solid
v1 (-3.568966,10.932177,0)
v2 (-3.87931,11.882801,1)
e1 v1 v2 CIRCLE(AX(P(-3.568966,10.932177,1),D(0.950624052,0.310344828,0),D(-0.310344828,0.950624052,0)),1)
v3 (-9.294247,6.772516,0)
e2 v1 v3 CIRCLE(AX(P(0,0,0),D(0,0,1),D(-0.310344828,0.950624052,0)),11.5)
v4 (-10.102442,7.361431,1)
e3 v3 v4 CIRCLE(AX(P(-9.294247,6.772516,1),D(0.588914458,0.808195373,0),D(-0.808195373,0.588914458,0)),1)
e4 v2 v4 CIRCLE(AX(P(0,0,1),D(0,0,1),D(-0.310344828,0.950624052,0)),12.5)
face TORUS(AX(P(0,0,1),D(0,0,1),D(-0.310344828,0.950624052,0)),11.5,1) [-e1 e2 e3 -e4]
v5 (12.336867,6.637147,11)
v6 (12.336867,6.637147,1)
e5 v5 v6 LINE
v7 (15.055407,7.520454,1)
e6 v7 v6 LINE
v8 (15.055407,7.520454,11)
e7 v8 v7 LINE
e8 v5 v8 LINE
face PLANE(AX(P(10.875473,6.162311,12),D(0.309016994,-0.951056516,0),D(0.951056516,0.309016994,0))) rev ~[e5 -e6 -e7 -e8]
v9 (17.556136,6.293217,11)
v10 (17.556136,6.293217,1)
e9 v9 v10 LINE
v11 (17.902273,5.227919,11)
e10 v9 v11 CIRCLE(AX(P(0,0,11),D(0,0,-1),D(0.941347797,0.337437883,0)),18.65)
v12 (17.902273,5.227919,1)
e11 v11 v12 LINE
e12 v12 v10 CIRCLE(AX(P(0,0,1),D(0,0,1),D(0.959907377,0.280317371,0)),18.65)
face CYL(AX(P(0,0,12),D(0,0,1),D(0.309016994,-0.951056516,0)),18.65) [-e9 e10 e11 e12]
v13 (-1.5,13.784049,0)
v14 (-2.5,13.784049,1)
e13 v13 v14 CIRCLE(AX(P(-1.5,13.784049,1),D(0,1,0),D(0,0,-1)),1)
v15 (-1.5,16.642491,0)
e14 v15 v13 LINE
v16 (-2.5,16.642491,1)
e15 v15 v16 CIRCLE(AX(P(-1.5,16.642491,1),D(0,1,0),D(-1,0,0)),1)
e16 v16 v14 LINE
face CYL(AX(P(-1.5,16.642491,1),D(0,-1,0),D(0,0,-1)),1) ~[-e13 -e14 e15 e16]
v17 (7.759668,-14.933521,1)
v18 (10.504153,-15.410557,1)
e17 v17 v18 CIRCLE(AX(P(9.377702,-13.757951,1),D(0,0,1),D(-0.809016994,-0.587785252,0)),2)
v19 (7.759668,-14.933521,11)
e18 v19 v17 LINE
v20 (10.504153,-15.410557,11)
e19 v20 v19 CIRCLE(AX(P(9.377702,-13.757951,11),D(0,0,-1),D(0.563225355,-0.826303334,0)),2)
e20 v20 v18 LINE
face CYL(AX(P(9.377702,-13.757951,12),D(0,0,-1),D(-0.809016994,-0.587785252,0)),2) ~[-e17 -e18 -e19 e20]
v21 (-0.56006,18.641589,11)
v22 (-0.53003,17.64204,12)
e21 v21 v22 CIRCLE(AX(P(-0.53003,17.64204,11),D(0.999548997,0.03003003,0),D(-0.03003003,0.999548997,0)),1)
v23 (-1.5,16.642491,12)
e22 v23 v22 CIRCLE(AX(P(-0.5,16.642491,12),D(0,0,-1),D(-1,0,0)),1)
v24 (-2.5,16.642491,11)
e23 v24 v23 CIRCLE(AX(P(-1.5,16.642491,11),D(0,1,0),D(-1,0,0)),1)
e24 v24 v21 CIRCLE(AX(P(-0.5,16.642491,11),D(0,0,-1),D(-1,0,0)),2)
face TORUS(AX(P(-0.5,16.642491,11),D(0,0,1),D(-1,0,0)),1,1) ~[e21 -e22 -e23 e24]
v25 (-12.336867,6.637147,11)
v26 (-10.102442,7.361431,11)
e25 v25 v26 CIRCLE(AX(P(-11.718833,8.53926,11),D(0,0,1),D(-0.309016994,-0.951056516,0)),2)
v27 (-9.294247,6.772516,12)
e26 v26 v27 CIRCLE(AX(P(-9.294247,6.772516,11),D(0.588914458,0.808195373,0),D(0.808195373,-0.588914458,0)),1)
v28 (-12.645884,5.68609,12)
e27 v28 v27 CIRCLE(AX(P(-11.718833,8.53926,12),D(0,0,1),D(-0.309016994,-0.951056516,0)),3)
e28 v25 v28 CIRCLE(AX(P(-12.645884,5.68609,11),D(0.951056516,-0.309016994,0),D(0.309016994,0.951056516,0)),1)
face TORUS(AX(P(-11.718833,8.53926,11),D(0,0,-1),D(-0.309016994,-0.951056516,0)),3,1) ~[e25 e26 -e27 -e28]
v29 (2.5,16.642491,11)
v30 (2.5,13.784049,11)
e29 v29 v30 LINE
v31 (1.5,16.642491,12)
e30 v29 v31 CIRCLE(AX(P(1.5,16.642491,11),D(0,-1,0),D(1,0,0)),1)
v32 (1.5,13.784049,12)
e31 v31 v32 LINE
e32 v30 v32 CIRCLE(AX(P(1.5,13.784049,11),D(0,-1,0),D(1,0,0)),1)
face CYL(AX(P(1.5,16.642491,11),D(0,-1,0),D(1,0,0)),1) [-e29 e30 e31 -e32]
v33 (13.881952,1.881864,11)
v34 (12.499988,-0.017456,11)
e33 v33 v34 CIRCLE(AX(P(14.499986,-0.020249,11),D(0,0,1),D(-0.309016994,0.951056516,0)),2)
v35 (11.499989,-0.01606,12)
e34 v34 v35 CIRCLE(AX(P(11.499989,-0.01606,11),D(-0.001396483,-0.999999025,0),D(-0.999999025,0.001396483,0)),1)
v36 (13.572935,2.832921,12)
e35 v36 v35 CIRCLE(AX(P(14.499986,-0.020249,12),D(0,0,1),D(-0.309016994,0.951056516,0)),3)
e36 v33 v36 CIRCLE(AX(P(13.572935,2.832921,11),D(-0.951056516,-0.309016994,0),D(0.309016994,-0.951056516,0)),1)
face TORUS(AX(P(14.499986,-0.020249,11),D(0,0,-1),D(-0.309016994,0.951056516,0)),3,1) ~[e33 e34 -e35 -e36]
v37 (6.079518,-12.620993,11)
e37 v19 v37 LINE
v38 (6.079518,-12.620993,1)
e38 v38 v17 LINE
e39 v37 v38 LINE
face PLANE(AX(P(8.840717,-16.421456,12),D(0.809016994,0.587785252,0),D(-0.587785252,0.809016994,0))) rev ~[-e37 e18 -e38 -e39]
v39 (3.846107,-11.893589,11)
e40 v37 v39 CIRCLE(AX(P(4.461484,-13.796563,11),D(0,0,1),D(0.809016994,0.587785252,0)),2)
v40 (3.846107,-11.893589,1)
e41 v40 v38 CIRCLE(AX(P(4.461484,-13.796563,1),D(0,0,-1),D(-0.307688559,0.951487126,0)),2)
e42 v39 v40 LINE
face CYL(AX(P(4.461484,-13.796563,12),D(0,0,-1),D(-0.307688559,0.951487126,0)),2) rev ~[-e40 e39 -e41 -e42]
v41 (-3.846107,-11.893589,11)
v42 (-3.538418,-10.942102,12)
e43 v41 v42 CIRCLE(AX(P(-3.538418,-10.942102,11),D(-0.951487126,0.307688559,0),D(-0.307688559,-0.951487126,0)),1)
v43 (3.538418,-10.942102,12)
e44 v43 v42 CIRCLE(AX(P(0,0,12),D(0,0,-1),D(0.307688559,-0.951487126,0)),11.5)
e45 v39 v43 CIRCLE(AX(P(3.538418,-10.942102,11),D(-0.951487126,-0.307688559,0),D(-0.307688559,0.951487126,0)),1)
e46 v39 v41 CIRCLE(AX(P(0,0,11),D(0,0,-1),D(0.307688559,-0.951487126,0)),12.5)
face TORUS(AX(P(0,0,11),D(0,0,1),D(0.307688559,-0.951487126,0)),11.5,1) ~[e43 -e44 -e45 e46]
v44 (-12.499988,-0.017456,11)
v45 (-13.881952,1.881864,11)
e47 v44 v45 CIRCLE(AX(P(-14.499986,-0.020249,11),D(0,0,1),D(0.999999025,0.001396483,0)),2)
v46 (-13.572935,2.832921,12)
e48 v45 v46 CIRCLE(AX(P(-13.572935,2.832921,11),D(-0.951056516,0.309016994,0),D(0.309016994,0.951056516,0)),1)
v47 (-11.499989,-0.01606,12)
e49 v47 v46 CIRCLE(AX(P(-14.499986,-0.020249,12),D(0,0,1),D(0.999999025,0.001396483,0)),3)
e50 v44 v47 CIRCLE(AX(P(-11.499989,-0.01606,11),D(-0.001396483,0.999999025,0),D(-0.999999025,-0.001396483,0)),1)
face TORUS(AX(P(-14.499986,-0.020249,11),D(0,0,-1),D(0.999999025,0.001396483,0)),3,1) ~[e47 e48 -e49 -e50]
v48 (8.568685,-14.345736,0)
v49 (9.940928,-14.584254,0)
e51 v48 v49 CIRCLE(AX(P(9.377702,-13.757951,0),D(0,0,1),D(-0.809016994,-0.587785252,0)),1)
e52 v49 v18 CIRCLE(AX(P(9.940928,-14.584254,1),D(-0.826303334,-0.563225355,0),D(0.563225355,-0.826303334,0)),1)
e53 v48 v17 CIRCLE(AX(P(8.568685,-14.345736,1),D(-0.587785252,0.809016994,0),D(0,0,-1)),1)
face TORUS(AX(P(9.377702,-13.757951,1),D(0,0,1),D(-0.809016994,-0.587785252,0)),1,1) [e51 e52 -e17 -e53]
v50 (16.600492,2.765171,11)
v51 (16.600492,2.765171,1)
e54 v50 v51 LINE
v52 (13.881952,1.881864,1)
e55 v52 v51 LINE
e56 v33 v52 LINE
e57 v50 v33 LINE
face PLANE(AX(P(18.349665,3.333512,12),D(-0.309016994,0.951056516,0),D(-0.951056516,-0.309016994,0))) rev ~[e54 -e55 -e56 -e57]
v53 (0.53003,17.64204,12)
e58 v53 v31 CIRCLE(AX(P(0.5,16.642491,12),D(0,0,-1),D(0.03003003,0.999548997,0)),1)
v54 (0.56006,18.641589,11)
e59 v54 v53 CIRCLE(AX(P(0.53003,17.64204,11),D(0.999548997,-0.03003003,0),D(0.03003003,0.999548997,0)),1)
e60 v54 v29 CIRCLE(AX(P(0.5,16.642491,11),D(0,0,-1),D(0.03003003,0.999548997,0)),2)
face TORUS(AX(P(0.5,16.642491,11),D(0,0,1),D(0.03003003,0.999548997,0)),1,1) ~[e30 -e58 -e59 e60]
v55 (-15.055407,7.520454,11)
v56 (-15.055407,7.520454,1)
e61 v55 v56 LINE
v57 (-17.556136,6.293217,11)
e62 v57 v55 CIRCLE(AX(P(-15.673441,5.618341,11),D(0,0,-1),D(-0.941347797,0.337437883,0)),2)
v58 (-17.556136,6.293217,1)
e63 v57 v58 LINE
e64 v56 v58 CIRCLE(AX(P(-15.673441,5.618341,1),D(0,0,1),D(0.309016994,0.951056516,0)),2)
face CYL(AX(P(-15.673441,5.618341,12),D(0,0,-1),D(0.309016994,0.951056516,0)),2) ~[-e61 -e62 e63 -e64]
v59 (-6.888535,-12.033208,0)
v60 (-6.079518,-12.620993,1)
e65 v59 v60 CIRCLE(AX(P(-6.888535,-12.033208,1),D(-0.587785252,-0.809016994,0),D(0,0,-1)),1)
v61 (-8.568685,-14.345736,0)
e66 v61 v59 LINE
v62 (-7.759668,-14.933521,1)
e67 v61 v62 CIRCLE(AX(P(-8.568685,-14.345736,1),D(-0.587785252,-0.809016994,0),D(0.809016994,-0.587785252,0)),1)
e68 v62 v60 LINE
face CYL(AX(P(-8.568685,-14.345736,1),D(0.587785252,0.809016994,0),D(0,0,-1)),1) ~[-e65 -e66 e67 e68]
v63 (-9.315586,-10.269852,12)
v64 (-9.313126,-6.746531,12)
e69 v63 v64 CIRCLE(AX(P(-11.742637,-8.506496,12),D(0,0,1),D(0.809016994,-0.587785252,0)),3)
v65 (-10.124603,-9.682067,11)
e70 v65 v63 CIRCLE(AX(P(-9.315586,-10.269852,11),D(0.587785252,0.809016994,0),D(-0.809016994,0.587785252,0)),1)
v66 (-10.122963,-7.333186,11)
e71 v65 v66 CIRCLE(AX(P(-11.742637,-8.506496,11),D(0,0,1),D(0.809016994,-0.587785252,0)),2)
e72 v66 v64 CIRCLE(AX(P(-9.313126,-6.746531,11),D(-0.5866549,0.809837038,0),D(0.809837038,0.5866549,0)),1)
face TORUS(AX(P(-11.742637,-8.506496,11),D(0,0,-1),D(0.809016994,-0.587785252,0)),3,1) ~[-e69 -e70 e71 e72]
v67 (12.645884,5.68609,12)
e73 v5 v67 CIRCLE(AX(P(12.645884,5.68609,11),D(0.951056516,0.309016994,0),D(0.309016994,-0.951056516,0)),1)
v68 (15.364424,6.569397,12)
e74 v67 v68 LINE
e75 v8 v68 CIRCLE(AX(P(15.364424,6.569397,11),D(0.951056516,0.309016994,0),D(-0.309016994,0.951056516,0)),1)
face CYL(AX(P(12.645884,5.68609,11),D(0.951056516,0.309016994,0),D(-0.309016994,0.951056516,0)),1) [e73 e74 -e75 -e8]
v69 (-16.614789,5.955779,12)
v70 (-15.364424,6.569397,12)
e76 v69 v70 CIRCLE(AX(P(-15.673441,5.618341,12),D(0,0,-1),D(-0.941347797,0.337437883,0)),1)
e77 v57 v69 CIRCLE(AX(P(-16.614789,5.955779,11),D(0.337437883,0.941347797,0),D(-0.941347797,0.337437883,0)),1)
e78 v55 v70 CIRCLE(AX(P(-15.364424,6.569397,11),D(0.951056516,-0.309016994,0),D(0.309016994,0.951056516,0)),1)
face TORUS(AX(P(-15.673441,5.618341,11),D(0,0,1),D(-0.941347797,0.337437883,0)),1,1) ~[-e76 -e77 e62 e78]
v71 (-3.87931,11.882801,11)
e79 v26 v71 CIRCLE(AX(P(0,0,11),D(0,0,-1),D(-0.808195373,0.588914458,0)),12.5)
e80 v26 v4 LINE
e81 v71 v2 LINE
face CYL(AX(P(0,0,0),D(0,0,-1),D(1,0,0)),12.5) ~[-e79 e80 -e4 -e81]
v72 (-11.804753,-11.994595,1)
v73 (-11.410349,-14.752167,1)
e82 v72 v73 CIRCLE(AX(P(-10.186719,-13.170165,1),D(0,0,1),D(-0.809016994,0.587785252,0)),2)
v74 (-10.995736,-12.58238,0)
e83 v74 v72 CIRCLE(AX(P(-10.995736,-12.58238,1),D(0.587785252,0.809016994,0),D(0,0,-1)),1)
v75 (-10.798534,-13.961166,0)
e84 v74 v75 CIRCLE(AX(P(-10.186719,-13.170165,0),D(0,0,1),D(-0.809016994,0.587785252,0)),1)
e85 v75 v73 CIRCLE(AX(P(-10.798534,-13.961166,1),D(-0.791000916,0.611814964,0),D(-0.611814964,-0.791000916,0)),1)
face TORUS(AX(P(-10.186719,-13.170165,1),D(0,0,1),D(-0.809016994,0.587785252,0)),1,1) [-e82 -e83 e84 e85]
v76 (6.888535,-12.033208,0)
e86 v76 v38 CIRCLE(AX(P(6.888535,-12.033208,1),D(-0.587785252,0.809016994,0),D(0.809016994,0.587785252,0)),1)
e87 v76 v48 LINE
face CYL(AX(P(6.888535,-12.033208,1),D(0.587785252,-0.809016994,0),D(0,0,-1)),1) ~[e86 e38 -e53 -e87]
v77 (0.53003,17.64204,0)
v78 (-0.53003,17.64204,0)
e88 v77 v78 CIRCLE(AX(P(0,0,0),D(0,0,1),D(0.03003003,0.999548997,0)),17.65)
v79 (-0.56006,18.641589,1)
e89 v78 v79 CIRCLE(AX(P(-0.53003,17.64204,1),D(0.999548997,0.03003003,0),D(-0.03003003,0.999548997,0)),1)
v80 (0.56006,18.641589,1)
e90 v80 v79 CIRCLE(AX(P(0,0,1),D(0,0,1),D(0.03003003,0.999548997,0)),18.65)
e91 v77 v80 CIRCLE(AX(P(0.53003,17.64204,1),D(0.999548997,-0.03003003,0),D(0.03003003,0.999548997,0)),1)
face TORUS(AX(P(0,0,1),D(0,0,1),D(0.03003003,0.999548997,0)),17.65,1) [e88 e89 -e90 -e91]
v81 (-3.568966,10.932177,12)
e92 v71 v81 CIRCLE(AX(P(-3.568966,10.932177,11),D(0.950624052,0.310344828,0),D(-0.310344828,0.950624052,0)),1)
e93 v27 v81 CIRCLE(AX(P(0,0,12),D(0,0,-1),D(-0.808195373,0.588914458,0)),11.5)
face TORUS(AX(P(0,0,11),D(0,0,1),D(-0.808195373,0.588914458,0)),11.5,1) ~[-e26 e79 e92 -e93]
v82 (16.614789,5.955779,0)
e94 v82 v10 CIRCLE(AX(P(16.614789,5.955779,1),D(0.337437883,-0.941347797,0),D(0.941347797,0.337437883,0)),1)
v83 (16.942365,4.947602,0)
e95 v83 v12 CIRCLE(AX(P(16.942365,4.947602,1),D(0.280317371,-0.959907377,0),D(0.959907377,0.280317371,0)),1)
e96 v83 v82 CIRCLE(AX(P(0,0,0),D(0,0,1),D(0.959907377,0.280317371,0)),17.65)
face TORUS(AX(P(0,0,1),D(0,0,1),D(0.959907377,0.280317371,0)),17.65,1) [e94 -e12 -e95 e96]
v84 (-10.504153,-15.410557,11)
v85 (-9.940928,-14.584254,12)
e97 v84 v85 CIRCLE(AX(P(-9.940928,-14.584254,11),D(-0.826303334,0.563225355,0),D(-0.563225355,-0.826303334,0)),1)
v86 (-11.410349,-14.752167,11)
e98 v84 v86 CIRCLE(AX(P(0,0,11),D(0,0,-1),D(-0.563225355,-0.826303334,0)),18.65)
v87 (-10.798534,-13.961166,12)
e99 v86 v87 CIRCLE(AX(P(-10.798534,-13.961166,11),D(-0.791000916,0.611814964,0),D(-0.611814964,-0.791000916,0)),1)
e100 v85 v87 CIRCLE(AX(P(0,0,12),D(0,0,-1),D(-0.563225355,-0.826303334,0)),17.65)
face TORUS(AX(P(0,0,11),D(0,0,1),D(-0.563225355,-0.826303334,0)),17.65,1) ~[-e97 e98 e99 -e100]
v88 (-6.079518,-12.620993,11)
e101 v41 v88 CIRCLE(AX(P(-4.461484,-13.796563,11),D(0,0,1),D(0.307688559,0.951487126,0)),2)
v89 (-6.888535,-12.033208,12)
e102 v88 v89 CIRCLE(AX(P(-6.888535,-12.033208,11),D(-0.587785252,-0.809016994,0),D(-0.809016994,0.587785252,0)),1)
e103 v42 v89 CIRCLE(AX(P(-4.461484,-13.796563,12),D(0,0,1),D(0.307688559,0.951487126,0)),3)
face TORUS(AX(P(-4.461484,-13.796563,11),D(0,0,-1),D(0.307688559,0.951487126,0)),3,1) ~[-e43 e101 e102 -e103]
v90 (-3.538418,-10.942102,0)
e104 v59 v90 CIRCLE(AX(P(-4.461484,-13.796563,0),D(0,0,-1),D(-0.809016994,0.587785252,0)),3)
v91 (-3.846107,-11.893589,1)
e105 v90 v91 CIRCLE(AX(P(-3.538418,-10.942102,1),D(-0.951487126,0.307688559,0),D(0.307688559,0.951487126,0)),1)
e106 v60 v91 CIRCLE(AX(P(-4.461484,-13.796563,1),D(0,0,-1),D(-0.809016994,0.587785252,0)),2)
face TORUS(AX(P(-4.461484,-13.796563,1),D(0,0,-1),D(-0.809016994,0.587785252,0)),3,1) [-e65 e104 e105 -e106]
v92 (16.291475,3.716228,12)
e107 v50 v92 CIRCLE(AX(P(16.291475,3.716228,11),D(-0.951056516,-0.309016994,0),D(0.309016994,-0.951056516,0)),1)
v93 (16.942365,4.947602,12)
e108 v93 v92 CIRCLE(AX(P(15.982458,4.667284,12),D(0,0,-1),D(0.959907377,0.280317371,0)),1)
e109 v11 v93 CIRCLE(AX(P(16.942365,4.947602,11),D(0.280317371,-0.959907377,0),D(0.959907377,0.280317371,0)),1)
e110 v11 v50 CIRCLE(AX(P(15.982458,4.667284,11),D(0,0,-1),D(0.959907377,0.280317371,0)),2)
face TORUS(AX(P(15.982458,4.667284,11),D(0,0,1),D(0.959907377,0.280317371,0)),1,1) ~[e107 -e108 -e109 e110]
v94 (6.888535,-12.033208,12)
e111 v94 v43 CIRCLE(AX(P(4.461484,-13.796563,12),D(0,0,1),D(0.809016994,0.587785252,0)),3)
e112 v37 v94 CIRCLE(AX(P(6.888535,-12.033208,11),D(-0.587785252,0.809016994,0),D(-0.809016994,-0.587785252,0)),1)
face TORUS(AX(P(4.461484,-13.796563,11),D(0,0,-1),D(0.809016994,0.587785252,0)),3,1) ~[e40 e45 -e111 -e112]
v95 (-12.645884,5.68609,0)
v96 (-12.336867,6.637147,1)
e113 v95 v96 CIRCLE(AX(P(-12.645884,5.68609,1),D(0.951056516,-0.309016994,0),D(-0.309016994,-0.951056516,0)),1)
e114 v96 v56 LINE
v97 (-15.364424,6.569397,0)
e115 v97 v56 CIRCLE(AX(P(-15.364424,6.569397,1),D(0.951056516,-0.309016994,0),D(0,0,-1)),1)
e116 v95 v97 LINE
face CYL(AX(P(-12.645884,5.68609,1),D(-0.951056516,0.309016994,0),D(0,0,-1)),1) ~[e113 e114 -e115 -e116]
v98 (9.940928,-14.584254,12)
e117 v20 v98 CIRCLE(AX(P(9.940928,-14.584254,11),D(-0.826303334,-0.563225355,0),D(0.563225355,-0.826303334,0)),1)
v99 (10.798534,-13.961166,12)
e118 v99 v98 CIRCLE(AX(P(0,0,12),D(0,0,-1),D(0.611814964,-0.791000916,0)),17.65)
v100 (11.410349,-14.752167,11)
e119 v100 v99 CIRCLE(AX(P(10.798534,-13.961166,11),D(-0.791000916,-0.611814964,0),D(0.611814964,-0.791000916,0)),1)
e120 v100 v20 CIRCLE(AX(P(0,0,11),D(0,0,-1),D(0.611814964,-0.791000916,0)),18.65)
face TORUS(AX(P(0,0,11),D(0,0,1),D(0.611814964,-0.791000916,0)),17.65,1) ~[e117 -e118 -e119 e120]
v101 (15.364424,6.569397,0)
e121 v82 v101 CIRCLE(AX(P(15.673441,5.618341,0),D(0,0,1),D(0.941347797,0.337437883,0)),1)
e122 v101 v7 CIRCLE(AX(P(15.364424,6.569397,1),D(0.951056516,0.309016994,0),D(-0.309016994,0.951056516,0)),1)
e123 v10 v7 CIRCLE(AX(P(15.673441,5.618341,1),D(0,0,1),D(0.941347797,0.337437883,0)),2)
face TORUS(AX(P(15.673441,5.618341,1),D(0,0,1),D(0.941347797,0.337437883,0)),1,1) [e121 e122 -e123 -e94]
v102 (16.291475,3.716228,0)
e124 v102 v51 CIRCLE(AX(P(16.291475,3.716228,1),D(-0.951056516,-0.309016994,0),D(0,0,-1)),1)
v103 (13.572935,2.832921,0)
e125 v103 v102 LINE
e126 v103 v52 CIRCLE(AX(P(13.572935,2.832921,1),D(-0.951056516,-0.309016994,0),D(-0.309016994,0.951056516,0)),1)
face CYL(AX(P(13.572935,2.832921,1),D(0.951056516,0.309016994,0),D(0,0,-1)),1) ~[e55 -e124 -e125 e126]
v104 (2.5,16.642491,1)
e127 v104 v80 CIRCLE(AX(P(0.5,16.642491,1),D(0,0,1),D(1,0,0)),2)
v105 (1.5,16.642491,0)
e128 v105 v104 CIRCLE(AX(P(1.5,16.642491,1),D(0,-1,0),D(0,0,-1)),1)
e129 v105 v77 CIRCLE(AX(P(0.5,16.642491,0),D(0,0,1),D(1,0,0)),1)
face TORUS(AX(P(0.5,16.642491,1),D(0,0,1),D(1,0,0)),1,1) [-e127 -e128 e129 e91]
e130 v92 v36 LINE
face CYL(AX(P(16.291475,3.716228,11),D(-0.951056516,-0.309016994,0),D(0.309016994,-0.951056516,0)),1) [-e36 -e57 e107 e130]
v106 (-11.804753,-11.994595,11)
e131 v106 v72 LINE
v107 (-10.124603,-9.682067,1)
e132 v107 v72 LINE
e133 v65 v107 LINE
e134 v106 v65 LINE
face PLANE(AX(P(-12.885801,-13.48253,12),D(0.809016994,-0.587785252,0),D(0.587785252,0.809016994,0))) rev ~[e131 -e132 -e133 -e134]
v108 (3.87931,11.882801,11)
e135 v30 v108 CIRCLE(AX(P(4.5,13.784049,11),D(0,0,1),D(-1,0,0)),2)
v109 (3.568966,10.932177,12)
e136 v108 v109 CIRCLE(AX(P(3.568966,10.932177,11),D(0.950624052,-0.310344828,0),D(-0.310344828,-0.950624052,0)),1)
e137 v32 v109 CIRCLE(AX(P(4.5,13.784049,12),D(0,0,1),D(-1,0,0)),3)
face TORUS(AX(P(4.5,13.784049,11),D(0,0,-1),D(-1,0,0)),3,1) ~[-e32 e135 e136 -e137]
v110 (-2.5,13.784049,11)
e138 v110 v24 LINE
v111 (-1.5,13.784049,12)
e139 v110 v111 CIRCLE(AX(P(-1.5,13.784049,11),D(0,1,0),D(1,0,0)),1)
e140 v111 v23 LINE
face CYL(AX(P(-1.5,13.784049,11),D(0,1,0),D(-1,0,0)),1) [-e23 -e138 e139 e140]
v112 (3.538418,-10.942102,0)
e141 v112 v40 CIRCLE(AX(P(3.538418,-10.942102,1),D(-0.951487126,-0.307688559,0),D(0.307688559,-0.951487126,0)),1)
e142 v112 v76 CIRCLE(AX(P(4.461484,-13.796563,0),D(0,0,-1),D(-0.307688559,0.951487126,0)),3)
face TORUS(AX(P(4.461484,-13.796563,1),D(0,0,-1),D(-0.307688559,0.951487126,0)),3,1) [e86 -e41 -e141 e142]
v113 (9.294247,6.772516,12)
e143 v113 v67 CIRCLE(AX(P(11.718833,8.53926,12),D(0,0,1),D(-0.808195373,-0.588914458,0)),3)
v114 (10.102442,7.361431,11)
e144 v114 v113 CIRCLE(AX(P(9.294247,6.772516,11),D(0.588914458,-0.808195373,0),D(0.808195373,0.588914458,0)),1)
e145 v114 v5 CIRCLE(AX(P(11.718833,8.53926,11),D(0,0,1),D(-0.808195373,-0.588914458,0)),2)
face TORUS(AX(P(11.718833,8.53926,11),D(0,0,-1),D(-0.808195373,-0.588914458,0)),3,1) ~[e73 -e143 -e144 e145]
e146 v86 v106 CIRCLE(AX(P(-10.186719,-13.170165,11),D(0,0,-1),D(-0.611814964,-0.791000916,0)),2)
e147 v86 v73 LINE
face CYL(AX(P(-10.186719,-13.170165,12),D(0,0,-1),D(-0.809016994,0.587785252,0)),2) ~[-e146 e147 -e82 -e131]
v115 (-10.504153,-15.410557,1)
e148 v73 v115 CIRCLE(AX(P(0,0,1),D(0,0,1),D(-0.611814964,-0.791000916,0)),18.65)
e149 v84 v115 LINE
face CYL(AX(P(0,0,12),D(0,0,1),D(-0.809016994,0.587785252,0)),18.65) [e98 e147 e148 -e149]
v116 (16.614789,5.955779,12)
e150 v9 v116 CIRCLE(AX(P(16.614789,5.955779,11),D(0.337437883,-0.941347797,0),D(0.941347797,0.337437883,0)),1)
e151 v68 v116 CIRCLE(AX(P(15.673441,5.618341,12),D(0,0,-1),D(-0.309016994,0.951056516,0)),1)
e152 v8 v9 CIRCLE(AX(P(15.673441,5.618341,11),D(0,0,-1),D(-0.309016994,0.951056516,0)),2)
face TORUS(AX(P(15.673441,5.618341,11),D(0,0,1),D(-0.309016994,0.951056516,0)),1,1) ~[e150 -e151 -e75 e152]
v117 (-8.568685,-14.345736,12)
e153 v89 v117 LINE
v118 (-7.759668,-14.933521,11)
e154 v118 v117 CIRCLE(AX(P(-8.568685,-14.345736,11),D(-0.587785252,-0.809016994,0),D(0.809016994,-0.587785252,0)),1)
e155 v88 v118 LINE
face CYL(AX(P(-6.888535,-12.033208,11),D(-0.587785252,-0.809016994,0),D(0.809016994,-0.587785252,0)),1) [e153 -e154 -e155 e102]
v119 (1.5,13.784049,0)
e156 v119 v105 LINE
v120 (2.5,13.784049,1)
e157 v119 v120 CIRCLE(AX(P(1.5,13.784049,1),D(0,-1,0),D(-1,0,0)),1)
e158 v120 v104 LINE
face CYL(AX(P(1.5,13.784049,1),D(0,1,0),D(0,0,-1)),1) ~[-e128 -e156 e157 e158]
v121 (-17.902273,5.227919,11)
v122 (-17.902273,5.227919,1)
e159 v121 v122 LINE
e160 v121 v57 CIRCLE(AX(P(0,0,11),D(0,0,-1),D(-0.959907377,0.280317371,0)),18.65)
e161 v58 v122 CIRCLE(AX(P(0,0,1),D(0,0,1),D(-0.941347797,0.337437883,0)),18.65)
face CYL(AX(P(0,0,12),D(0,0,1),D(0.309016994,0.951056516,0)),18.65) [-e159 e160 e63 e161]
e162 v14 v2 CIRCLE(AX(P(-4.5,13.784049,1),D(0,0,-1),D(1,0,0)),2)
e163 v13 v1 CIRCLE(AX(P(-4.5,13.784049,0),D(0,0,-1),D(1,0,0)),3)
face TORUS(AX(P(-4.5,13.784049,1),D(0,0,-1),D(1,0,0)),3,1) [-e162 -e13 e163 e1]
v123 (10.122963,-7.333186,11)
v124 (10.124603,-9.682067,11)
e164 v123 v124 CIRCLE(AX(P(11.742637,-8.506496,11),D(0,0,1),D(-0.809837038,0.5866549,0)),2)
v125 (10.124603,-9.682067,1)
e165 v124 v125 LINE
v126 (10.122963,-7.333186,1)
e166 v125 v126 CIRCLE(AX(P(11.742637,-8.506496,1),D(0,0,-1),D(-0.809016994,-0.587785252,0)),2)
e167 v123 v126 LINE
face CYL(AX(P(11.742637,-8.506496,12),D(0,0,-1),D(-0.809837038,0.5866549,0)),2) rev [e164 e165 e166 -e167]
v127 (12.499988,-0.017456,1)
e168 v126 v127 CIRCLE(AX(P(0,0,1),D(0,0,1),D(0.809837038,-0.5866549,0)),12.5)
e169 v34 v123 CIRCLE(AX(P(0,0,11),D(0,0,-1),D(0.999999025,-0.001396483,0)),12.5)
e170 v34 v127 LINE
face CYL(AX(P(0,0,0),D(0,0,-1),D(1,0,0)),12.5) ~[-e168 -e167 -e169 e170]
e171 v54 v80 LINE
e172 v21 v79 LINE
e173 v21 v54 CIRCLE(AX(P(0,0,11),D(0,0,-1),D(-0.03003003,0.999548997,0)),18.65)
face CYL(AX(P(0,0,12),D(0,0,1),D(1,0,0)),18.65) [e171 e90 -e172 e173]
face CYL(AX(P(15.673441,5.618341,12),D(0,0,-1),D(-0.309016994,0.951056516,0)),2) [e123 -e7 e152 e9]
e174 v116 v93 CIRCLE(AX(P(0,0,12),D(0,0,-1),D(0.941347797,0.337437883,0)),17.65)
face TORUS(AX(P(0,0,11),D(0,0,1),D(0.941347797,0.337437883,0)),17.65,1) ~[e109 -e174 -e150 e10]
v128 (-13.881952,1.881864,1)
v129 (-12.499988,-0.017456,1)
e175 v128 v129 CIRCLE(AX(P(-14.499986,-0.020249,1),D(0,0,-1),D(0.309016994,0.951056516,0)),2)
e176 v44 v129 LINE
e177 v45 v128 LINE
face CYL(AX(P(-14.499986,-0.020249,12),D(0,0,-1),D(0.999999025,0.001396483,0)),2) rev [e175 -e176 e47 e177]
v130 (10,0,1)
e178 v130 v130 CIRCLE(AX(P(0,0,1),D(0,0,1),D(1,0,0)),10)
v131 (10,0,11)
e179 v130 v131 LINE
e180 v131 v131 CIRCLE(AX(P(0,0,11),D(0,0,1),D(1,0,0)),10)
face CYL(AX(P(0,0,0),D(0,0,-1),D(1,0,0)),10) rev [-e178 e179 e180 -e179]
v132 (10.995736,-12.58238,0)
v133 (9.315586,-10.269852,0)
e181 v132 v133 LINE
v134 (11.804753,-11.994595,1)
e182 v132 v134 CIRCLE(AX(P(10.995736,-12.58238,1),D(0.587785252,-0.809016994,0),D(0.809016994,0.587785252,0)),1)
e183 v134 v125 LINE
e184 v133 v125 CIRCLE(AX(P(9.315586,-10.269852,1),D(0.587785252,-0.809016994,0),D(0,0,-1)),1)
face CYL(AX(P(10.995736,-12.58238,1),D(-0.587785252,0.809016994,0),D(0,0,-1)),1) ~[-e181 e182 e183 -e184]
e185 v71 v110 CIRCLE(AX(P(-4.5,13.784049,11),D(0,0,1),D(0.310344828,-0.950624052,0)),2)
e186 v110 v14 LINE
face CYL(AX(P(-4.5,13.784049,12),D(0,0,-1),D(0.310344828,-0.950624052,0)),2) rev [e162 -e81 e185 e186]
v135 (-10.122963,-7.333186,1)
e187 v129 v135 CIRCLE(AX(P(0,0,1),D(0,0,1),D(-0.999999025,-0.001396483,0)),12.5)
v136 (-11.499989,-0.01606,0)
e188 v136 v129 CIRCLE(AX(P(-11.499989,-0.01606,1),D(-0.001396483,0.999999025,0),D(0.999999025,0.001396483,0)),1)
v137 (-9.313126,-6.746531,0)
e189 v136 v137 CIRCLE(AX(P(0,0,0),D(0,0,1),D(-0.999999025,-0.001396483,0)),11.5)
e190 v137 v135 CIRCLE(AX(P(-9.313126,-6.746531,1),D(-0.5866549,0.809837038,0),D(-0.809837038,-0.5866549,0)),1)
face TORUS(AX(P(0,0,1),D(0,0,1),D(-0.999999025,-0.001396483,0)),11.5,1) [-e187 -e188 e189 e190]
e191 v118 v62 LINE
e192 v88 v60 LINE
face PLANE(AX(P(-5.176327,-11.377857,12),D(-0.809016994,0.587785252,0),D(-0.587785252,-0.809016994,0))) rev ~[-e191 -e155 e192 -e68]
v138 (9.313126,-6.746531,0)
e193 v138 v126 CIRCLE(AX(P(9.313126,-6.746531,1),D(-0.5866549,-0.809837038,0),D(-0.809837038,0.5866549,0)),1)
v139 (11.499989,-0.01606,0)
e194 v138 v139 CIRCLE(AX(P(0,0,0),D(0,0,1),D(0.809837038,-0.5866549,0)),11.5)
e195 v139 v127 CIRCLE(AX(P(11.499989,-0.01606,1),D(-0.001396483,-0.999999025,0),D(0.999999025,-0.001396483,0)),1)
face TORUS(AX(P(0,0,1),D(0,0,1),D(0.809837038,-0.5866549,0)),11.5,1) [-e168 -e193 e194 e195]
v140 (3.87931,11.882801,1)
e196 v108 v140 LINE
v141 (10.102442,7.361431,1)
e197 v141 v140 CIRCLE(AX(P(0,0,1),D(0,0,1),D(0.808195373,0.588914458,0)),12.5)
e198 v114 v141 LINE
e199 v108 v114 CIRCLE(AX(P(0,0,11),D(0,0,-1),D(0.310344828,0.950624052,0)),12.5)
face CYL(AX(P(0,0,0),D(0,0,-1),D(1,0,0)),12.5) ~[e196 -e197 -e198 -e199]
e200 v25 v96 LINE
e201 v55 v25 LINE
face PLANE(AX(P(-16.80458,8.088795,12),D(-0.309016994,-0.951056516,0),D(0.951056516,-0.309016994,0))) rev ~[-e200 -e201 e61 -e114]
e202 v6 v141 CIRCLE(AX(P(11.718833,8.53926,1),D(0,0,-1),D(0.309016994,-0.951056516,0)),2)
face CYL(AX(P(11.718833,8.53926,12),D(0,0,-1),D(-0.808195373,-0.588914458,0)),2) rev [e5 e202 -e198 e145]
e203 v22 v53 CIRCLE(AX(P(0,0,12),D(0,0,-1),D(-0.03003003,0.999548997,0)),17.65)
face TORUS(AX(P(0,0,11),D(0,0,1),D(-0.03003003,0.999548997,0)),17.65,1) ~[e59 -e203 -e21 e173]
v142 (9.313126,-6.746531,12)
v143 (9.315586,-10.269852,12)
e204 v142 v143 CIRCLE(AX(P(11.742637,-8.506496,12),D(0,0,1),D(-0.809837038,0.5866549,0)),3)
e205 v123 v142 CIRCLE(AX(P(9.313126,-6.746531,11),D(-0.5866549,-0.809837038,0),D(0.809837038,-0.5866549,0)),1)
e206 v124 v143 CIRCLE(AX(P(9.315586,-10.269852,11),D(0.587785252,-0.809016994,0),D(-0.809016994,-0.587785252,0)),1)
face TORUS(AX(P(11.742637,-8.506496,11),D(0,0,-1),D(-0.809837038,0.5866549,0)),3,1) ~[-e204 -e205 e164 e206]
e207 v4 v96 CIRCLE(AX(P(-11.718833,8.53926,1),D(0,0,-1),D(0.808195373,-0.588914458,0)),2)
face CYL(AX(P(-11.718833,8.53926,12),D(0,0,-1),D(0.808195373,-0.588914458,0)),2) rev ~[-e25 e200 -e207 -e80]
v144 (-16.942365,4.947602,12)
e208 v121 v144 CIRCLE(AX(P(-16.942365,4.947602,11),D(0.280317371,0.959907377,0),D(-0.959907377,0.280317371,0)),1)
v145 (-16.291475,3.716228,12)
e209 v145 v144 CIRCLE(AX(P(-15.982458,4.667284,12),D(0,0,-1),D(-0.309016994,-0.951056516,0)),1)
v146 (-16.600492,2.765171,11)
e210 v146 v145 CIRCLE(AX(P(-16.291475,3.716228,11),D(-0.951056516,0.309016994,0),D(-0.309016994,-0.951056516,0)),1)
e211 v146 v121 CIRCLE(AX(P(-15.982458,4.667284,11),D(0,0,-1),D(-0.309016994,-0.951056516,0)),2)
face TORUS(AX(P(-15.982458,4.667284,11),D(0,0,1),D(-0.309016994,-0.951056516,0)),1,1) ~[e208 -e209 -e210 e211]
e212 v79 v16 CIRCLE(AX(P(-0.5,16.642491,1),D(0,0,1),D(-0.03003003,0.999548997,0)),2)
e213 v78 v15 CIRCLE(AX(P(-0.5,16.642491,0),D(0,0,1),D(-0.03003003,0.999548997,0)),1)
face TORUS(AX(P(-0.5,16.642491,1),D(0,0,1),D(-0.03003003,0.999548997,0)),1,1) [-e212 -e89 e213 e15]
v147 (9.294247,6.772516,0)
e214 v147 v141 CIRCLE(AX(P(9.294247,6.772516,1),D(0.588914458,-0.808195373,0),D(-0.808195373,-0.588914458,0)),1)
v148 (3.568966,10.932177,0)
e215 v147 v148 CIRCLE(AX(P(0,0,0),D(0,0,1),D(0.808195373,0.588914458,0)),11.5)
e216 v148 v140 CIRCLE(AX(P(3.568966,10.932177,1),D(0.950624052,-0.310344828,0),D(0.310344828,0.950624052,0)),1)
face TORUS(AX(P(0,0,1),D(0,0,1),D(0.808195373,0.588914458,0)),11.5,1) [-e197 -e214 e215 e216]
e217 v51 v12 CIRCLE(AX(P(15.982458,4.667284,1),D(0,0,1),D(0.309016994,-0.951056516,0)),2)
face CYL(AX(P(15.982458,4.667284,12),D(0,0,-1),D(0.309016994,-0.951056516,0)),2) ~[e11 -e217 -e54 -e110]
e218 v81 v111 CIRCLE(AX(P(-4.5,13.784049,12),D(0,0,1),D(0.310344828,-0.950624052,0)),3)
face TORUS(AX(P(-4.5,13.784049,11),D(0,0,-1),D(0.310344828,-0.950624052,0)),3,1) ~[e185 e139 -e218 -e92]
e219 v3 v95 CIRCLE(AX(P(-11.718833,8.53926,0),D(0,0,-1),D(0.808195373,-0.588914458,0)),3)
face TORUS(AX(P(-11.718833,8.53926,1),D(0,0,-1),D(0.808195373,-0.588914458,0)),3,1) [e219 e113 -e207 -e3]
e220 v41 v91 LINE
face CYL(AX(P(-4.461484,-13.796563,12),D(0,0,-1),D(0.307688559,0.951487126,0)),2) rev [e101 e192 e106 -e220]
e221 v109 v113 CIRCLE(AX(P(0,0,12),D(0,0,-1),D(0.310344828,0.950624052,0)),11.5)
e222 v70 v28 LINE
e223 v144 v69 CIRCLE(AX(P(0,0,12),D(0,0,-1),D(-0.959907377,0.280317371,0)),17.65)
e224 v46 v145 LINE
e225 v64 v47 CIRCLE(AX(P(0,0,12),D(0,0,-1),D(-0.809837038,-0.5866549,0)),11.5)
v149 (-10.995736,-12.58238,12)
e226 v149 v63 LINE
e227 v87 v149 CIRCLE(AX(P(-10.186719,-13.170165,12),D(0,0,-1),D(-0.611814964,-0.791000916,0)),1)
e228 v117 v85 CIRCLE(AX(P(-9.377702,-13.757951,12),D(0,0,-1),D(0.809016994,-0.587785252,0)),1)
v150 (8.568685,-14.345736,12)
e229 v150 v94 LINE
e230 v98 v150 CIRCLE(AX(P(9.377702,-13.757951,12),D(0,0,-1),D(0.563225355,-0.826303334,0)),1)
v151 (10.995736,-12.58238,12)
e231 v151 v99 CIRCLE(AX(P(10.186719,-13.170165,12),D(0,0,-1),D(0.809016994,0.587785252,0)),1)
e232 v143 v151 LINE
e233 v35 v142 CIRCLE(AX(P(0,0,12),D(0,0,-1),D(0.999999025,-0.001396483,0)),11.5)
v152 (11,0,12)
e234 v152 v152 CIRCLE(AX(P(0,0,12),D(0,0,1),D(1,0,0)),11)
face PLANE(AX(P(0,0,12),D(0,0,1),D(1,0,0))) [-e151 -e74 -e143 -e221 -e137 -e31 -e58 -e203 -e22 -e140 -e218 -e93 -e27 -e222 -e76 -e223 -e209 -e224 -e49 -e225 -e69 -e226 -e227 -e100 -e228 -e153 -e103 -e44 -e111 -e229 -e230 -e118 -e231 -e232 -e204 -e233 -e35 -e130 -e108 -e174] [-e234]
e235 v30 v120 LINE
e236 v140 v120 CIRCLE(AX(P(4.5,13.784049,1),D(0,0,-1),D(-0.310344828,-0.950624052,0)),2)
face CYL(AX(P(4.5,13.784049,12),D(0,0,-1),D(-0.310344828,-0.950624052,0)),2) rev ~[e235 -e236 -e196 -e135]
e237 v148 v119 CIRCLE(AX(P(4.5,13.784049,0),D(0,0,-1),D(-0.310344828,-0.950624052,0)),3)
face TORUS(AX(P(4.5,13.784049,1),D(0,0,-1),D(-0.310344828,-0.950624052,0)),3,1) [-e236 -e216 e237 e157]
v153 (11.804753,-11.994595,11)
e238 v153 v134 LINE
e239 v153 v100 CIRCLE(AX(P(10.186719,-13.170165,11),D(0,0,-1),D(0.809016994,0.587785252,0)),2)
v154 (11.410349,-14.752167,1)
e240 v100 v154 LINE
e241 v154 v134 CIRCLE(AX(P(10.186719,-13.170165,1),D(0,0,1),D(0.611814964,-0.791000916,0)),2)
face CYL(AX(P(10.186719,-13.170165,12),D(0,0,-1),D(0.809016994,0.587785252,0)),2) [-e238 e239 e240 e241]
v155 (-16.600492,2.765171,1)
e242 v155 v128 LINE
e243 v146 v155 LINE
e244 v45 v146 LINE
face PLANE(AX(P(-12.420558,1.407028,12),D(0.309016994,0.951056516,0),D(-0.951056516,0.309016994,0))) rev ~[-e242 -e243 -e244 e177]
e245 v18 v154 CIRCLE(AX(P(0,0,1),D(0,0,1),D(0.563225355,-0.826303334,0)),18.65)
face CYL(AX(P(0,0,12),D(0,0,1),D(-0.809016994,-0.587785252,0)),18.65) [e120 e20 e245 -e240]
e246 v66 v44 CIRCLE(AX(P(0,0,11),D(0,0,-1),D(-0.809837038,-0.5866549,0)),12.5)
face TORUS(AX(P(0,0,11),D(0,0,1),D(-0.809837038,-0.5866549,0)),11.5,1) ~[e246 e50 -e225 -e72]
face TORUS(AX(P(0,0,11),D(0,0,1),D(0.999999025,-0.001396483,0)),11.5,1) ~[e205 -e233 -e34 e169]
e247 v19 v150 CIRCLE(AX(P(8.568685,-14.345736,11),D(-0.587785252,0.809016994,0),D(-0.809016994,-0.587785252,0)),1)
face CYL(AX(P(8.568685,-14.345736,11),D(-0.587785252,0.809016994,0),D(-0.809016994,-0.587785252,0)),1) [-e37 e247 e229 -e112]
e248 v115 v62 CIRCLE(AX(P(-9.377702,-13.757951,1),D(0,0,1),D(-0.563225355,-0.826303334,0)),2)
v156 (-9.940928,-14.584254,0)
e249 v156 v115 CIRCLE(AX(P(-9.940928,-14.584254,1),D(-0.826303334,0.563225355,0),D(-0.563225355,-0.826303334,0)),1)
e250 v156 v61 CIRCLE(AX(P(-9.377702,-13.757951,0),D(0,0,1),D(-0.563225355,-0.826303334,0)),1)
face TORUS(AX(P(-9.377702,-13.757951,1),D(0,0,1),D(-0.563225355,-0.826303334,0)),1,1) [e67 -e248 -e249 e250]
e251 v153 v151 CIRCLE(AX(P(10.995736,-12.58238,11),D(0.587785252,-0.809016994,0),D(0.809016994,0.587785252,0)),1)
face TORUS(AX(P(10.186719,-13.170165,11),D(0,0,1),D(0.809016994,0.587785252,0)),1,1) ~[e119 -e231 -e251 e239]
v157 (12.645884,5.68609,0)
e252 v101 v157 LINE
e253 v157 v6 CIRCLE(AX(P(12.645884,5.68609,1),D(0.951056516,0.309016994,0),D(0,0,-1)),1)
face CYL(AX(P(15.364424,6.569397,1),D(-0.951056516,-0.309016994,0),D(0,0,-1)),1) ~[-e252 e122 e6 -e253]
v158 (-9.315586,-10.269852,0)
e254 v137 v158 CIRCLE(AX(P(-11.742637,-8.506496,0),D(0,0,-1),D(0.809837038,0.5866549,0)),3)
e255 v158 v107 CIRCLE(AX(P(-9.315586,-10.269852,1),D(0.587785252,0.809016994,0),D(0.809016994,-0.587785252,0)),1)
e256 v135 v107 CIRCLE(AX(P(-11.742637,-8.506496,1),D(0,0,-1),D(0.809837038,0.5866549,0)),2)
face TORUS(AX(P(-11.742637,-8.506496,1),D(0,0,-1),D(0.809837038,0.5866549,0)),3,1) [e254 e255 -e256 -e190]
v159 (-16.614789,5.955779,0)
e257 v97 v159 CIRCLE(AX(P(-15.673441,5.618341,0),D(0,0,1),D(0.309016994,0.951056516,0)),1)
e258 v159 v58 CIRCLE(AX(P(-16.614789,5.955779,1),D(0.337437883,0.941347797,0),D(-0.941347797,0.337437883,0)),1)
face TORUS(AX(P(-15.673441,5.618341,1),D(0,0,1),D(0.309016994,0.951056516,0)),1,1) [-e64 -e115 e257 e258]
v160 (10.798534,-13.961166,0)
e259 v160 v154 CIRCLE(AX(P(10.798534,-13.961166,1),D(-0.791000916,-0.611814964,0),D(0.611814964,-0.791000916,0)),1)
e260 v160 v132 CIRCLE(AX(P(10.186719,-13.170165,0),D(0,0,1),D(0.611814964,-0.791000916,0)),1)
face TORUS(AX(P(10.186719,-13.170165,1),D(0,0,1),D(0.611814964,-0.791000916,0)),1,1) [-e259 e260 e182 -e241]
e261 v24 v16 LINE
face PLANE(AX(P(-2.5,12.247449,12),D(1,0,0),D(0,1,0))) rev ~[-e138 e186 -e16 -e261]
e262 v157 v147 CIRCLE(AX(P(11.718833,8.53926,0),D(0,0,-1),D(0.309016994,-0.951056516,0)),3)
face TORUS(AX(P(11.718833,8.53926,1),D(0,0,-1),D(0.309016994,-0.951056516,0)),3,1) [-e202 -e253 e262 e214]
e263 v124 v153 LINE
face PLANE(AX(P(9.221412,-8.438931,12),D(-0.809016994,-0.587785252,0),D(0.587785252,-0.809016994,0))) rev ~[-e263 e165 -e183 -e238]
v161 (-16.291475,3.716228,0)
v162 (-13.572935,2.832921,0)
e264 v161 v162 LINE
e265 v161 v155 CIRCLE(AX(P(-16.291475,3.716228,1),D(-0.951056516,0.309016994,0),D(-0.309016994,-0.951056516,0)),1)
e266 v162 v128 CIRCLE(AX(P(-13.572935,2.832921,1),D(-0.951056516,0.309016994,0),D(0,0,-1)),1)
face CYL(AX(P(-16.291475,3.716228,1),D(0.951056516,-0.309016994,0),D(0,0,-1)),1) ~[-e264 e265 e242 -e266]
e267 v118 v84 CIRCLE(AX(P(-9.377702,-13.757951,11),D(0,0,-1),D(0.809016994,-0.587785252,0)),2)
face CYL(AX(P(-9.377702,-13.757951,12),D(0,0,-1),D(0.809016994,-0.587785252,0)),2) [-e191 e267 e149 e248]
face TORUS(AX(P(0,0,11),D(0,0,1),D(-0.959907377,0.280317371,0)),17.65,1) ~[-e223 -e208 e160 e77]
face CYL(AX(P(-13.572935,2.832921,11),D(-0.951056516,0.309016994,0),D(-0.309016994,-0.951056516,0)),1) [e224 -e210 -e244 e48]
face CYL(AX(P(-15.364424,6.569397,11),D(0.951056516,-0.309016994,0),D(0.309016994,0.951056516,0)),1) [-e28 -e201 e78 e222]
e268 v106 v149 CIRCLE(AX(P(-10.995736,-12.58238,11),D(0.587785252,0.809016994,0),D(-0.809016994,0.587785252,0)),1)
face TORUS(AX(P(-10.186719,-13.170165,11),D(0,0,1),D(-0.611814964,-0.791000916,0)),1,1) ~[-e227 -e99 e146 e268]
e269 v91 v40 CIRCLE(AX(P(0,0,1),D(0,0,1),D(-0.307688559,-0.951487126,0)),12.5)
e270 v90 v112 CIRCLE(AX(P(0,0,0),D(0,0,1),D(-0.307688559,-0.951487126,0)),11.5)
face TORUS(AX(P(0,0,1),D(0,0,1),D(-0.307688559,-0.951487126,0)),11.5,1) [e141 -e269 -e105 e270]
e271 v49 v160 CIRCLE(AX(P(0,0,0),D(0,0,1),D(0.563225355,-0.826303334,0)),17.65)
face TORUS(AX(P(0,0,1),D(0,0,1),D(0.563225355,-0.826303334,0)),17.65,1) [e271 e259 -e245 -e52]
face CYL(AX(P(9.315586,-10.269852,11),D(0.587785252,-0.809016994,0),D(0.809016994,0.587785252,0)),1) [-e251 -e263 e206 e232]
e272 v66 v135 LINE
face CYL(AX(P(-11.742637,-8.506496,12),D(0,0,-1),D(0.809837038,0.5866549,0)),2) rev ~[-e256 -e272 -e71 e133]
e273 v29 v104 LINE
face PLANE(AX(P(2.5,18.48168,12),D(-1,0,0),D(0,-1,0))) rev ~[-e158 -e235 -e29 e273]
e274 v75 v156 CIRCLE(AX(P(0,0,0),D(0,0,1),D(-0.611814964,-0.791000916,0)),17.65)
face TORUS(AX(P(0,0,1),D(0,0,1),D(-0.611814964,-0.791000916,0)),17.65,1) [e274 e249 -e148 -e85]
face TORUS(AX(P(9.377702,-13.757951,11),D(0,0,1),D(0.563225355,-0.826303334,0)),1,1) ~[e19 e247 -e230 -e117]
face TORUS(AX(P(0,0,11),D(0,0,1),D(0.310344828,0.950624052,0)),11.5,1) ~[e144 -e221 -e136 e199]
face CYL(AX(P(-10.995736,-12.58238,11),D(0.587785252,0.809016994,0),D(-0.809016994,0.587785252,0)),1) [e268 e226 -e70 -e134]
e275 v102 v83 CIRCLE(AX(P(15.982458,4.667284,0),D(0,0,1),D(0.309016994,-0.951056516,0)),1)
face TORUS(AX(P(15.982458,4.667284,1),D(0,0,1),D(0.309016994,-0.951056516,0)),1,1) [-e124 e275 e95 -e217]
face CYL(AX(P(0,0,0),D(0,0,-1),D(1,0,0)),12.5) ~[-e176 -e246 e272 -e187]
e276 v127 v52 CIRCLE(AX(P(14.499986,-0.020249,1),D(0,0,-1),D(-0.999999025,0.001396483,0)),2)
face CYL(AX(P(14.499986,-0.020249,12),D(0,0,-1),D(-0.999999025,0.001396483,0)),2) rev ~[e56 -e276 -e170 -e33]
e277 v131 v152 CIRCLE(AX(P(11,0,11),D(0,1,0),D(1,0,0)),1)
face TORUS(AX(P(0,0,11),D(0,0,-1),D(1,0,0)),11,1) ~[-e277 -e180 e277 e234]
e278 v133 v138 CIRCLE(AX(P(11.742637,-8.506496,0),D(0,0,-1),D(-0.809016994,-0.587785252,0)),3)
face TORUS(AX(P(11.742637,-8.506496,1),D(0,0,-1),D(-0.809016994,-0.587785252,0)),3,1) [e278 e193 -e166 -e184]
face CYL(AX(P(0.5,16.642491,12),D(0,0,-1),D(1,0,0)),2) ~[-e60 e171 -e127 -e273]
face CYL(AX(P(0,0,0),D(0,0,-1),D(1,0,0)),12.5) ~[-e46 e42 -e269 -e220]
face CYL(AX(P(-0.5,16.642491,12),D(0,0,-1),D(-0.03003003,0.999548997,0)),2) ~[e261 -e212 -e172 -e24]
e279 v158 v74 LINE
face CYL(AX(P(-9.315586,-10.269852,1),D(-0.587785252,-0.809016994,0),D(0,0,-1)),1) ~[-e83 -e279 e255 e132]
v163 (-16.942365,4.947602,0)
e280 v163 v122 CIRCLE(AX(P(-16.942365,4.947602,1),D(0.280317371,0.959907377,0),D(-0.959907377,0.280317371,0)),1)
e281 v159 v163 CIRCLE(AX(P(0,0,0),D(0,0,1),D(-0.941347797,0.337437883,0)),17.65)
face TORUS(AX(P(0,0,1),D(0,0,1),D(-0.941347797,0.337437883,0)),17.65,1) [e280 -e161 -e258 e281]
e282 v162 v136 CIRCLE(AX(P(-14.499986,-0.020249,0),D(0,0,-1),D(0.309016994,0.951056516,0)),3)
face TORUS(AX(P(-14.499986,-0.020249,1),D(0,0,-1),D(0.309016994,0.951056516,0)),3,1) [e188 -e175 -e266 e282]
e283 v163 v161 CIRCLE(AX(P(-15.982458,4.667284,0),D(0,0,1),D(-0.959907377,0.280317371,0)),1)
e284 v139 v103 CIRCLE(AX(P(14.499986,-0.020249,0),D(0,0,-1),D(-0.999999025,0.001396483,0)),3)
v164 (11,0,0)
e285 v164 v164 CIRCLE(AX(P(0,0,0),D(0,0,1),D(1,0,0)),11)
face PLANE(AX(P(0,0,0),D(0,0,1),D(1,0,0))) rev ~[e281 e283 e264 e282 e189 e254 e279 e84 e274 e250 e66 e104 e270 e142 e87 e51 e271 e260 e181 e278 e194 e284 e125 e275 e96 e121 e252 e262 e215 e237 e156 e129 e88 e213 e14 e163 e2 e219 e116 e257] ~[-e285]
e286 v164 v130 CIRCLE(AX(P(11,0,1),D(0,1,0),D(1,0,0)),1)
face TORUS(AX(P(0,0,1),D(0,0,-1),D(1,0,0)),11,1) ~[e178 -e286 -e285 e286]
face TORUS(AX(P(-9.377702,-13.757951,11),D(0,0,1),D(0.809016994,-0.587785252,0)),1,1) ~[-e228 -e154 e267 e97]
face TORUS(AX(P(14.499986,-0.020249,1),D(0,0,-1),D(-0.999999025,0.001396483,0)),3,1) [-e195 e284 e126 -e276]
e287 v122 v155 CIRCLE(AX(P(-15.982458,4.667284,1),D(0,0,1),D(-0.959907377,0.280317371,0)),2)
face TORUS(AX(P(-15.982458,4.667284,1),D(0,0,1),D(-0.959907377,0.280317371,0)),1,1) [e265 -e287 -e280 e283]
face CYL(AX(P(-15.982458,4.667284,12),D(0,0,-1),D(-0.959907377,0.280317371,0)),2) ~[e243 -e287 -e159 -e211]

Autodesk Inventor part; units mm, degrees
ref_plane "YZ Plane" through (0, 0, 0) normal (1, 0, 0) x (0, 1, 0)
ref_plane "XZ Plane" through (0, 0, 0) normal (0, 1, 0) x (-1, 0, 0)
ref_plane "XY Plane" through (0, 0, 0) normal (0, 0, 1) x (1, 0, 0)
sketch "Sketch1" plane through (0, 0, 0) normal (0, 0, 1) x (1, 0, 0)
  circle A0 centre (0, 0) radius 10
  circle A1 centre (0, 0) radius 12.5
  circle A2 centre (0, 0) radius 19 construction
  dimension "d0" = 20
  dimension "d1" = 2.5
  dimension "d2" = 38
extrude "Extrusion1" add sketch "Sketch1" along normal blind 12
sketch "Sketch2" plane through (0, 0, 12) normal (0, 0, 1) x (1, 0, 0)
  circle A0 centre (0, 0) radius 12.5 projected
  circle A1 centre (0, 0) radius 12.5 projected
  circle A2 centre (0, 0) radius 18.65
  line L0 (-2.5, 18.65) -> (2.5, 18.65)
  line L1 (2.5, 18.65) -> (2.5, 0.7124)
  line L2 (2.5, 0.7124) -> (-2.5, 0.7124)
  line L3 (-2.5, 0.7124) -> (-2.5, 18.65)
  point P0 (0, 18.65)
  point P1 (-2.5, 18.4817)
  point P2 (-2.5, 12.2474)
  point P3 (2.5, 12.2474)
  point P4 (2.5, 18.4817)
  dimension "d5" = 37.3
  dimension "d6" = 5
extrude "Extrusion2" add sketch "Sketch2" against normal up to surface (12 mm away) contours A0 L3 A2 L1 picked at (0, 14.5312)
fillet "Fillet1" radius 2 4 edges at (2.5, 12.2474, 6) (-2.5, 12.2474, 6) (-2.5, 18.4817, 6) (2.5, 18.4817, 6)
pattern_circular "Circular Pattern1" count 5 over 360 about axis through (0, 0, 0) along (0, 0, 1) of "Extrusion2", "Fillet1"
fillet "Fillet2" radius 1 27 edges at (2.5, 15.2133, 12) (0, 18.65, 12) (-2.5, 15.2133, 12) (-7.3473, 10.1127, 12) (-13.6961, 7.0788, 12) (-17.7372, 5.7632, 12) (-15.2412, 2.3235, 12) (-11.8882, -3.8627, 12) (-10.9647, -10.8383, 12) (-10.9622, -15.0882, 12) (-6.9196, -13.7773, 12) (0, -12.5, 12) (6.9196, -13.7773, 12) (10.9622, -15.0882, 12) (10.9647, -10.8383, 12) (11.8882, -3.8627, 12) (15.2412, 2.3235, 12) (17.7372, 5.7632, 12) (13.6961, 7.0788, 12) (7.3473, 10.1127, 12) (-7.3473, 10.1127, 0) (-11.8882, -3.8627, 0) (0, -12.5, 0) (11.8882, -3.8627, 0) (7.3473, 10.1127, 0) (-10, 0, 12) (-10, 0, 0)
properties part number "2102_Tx_Coil_Fins_V1"
